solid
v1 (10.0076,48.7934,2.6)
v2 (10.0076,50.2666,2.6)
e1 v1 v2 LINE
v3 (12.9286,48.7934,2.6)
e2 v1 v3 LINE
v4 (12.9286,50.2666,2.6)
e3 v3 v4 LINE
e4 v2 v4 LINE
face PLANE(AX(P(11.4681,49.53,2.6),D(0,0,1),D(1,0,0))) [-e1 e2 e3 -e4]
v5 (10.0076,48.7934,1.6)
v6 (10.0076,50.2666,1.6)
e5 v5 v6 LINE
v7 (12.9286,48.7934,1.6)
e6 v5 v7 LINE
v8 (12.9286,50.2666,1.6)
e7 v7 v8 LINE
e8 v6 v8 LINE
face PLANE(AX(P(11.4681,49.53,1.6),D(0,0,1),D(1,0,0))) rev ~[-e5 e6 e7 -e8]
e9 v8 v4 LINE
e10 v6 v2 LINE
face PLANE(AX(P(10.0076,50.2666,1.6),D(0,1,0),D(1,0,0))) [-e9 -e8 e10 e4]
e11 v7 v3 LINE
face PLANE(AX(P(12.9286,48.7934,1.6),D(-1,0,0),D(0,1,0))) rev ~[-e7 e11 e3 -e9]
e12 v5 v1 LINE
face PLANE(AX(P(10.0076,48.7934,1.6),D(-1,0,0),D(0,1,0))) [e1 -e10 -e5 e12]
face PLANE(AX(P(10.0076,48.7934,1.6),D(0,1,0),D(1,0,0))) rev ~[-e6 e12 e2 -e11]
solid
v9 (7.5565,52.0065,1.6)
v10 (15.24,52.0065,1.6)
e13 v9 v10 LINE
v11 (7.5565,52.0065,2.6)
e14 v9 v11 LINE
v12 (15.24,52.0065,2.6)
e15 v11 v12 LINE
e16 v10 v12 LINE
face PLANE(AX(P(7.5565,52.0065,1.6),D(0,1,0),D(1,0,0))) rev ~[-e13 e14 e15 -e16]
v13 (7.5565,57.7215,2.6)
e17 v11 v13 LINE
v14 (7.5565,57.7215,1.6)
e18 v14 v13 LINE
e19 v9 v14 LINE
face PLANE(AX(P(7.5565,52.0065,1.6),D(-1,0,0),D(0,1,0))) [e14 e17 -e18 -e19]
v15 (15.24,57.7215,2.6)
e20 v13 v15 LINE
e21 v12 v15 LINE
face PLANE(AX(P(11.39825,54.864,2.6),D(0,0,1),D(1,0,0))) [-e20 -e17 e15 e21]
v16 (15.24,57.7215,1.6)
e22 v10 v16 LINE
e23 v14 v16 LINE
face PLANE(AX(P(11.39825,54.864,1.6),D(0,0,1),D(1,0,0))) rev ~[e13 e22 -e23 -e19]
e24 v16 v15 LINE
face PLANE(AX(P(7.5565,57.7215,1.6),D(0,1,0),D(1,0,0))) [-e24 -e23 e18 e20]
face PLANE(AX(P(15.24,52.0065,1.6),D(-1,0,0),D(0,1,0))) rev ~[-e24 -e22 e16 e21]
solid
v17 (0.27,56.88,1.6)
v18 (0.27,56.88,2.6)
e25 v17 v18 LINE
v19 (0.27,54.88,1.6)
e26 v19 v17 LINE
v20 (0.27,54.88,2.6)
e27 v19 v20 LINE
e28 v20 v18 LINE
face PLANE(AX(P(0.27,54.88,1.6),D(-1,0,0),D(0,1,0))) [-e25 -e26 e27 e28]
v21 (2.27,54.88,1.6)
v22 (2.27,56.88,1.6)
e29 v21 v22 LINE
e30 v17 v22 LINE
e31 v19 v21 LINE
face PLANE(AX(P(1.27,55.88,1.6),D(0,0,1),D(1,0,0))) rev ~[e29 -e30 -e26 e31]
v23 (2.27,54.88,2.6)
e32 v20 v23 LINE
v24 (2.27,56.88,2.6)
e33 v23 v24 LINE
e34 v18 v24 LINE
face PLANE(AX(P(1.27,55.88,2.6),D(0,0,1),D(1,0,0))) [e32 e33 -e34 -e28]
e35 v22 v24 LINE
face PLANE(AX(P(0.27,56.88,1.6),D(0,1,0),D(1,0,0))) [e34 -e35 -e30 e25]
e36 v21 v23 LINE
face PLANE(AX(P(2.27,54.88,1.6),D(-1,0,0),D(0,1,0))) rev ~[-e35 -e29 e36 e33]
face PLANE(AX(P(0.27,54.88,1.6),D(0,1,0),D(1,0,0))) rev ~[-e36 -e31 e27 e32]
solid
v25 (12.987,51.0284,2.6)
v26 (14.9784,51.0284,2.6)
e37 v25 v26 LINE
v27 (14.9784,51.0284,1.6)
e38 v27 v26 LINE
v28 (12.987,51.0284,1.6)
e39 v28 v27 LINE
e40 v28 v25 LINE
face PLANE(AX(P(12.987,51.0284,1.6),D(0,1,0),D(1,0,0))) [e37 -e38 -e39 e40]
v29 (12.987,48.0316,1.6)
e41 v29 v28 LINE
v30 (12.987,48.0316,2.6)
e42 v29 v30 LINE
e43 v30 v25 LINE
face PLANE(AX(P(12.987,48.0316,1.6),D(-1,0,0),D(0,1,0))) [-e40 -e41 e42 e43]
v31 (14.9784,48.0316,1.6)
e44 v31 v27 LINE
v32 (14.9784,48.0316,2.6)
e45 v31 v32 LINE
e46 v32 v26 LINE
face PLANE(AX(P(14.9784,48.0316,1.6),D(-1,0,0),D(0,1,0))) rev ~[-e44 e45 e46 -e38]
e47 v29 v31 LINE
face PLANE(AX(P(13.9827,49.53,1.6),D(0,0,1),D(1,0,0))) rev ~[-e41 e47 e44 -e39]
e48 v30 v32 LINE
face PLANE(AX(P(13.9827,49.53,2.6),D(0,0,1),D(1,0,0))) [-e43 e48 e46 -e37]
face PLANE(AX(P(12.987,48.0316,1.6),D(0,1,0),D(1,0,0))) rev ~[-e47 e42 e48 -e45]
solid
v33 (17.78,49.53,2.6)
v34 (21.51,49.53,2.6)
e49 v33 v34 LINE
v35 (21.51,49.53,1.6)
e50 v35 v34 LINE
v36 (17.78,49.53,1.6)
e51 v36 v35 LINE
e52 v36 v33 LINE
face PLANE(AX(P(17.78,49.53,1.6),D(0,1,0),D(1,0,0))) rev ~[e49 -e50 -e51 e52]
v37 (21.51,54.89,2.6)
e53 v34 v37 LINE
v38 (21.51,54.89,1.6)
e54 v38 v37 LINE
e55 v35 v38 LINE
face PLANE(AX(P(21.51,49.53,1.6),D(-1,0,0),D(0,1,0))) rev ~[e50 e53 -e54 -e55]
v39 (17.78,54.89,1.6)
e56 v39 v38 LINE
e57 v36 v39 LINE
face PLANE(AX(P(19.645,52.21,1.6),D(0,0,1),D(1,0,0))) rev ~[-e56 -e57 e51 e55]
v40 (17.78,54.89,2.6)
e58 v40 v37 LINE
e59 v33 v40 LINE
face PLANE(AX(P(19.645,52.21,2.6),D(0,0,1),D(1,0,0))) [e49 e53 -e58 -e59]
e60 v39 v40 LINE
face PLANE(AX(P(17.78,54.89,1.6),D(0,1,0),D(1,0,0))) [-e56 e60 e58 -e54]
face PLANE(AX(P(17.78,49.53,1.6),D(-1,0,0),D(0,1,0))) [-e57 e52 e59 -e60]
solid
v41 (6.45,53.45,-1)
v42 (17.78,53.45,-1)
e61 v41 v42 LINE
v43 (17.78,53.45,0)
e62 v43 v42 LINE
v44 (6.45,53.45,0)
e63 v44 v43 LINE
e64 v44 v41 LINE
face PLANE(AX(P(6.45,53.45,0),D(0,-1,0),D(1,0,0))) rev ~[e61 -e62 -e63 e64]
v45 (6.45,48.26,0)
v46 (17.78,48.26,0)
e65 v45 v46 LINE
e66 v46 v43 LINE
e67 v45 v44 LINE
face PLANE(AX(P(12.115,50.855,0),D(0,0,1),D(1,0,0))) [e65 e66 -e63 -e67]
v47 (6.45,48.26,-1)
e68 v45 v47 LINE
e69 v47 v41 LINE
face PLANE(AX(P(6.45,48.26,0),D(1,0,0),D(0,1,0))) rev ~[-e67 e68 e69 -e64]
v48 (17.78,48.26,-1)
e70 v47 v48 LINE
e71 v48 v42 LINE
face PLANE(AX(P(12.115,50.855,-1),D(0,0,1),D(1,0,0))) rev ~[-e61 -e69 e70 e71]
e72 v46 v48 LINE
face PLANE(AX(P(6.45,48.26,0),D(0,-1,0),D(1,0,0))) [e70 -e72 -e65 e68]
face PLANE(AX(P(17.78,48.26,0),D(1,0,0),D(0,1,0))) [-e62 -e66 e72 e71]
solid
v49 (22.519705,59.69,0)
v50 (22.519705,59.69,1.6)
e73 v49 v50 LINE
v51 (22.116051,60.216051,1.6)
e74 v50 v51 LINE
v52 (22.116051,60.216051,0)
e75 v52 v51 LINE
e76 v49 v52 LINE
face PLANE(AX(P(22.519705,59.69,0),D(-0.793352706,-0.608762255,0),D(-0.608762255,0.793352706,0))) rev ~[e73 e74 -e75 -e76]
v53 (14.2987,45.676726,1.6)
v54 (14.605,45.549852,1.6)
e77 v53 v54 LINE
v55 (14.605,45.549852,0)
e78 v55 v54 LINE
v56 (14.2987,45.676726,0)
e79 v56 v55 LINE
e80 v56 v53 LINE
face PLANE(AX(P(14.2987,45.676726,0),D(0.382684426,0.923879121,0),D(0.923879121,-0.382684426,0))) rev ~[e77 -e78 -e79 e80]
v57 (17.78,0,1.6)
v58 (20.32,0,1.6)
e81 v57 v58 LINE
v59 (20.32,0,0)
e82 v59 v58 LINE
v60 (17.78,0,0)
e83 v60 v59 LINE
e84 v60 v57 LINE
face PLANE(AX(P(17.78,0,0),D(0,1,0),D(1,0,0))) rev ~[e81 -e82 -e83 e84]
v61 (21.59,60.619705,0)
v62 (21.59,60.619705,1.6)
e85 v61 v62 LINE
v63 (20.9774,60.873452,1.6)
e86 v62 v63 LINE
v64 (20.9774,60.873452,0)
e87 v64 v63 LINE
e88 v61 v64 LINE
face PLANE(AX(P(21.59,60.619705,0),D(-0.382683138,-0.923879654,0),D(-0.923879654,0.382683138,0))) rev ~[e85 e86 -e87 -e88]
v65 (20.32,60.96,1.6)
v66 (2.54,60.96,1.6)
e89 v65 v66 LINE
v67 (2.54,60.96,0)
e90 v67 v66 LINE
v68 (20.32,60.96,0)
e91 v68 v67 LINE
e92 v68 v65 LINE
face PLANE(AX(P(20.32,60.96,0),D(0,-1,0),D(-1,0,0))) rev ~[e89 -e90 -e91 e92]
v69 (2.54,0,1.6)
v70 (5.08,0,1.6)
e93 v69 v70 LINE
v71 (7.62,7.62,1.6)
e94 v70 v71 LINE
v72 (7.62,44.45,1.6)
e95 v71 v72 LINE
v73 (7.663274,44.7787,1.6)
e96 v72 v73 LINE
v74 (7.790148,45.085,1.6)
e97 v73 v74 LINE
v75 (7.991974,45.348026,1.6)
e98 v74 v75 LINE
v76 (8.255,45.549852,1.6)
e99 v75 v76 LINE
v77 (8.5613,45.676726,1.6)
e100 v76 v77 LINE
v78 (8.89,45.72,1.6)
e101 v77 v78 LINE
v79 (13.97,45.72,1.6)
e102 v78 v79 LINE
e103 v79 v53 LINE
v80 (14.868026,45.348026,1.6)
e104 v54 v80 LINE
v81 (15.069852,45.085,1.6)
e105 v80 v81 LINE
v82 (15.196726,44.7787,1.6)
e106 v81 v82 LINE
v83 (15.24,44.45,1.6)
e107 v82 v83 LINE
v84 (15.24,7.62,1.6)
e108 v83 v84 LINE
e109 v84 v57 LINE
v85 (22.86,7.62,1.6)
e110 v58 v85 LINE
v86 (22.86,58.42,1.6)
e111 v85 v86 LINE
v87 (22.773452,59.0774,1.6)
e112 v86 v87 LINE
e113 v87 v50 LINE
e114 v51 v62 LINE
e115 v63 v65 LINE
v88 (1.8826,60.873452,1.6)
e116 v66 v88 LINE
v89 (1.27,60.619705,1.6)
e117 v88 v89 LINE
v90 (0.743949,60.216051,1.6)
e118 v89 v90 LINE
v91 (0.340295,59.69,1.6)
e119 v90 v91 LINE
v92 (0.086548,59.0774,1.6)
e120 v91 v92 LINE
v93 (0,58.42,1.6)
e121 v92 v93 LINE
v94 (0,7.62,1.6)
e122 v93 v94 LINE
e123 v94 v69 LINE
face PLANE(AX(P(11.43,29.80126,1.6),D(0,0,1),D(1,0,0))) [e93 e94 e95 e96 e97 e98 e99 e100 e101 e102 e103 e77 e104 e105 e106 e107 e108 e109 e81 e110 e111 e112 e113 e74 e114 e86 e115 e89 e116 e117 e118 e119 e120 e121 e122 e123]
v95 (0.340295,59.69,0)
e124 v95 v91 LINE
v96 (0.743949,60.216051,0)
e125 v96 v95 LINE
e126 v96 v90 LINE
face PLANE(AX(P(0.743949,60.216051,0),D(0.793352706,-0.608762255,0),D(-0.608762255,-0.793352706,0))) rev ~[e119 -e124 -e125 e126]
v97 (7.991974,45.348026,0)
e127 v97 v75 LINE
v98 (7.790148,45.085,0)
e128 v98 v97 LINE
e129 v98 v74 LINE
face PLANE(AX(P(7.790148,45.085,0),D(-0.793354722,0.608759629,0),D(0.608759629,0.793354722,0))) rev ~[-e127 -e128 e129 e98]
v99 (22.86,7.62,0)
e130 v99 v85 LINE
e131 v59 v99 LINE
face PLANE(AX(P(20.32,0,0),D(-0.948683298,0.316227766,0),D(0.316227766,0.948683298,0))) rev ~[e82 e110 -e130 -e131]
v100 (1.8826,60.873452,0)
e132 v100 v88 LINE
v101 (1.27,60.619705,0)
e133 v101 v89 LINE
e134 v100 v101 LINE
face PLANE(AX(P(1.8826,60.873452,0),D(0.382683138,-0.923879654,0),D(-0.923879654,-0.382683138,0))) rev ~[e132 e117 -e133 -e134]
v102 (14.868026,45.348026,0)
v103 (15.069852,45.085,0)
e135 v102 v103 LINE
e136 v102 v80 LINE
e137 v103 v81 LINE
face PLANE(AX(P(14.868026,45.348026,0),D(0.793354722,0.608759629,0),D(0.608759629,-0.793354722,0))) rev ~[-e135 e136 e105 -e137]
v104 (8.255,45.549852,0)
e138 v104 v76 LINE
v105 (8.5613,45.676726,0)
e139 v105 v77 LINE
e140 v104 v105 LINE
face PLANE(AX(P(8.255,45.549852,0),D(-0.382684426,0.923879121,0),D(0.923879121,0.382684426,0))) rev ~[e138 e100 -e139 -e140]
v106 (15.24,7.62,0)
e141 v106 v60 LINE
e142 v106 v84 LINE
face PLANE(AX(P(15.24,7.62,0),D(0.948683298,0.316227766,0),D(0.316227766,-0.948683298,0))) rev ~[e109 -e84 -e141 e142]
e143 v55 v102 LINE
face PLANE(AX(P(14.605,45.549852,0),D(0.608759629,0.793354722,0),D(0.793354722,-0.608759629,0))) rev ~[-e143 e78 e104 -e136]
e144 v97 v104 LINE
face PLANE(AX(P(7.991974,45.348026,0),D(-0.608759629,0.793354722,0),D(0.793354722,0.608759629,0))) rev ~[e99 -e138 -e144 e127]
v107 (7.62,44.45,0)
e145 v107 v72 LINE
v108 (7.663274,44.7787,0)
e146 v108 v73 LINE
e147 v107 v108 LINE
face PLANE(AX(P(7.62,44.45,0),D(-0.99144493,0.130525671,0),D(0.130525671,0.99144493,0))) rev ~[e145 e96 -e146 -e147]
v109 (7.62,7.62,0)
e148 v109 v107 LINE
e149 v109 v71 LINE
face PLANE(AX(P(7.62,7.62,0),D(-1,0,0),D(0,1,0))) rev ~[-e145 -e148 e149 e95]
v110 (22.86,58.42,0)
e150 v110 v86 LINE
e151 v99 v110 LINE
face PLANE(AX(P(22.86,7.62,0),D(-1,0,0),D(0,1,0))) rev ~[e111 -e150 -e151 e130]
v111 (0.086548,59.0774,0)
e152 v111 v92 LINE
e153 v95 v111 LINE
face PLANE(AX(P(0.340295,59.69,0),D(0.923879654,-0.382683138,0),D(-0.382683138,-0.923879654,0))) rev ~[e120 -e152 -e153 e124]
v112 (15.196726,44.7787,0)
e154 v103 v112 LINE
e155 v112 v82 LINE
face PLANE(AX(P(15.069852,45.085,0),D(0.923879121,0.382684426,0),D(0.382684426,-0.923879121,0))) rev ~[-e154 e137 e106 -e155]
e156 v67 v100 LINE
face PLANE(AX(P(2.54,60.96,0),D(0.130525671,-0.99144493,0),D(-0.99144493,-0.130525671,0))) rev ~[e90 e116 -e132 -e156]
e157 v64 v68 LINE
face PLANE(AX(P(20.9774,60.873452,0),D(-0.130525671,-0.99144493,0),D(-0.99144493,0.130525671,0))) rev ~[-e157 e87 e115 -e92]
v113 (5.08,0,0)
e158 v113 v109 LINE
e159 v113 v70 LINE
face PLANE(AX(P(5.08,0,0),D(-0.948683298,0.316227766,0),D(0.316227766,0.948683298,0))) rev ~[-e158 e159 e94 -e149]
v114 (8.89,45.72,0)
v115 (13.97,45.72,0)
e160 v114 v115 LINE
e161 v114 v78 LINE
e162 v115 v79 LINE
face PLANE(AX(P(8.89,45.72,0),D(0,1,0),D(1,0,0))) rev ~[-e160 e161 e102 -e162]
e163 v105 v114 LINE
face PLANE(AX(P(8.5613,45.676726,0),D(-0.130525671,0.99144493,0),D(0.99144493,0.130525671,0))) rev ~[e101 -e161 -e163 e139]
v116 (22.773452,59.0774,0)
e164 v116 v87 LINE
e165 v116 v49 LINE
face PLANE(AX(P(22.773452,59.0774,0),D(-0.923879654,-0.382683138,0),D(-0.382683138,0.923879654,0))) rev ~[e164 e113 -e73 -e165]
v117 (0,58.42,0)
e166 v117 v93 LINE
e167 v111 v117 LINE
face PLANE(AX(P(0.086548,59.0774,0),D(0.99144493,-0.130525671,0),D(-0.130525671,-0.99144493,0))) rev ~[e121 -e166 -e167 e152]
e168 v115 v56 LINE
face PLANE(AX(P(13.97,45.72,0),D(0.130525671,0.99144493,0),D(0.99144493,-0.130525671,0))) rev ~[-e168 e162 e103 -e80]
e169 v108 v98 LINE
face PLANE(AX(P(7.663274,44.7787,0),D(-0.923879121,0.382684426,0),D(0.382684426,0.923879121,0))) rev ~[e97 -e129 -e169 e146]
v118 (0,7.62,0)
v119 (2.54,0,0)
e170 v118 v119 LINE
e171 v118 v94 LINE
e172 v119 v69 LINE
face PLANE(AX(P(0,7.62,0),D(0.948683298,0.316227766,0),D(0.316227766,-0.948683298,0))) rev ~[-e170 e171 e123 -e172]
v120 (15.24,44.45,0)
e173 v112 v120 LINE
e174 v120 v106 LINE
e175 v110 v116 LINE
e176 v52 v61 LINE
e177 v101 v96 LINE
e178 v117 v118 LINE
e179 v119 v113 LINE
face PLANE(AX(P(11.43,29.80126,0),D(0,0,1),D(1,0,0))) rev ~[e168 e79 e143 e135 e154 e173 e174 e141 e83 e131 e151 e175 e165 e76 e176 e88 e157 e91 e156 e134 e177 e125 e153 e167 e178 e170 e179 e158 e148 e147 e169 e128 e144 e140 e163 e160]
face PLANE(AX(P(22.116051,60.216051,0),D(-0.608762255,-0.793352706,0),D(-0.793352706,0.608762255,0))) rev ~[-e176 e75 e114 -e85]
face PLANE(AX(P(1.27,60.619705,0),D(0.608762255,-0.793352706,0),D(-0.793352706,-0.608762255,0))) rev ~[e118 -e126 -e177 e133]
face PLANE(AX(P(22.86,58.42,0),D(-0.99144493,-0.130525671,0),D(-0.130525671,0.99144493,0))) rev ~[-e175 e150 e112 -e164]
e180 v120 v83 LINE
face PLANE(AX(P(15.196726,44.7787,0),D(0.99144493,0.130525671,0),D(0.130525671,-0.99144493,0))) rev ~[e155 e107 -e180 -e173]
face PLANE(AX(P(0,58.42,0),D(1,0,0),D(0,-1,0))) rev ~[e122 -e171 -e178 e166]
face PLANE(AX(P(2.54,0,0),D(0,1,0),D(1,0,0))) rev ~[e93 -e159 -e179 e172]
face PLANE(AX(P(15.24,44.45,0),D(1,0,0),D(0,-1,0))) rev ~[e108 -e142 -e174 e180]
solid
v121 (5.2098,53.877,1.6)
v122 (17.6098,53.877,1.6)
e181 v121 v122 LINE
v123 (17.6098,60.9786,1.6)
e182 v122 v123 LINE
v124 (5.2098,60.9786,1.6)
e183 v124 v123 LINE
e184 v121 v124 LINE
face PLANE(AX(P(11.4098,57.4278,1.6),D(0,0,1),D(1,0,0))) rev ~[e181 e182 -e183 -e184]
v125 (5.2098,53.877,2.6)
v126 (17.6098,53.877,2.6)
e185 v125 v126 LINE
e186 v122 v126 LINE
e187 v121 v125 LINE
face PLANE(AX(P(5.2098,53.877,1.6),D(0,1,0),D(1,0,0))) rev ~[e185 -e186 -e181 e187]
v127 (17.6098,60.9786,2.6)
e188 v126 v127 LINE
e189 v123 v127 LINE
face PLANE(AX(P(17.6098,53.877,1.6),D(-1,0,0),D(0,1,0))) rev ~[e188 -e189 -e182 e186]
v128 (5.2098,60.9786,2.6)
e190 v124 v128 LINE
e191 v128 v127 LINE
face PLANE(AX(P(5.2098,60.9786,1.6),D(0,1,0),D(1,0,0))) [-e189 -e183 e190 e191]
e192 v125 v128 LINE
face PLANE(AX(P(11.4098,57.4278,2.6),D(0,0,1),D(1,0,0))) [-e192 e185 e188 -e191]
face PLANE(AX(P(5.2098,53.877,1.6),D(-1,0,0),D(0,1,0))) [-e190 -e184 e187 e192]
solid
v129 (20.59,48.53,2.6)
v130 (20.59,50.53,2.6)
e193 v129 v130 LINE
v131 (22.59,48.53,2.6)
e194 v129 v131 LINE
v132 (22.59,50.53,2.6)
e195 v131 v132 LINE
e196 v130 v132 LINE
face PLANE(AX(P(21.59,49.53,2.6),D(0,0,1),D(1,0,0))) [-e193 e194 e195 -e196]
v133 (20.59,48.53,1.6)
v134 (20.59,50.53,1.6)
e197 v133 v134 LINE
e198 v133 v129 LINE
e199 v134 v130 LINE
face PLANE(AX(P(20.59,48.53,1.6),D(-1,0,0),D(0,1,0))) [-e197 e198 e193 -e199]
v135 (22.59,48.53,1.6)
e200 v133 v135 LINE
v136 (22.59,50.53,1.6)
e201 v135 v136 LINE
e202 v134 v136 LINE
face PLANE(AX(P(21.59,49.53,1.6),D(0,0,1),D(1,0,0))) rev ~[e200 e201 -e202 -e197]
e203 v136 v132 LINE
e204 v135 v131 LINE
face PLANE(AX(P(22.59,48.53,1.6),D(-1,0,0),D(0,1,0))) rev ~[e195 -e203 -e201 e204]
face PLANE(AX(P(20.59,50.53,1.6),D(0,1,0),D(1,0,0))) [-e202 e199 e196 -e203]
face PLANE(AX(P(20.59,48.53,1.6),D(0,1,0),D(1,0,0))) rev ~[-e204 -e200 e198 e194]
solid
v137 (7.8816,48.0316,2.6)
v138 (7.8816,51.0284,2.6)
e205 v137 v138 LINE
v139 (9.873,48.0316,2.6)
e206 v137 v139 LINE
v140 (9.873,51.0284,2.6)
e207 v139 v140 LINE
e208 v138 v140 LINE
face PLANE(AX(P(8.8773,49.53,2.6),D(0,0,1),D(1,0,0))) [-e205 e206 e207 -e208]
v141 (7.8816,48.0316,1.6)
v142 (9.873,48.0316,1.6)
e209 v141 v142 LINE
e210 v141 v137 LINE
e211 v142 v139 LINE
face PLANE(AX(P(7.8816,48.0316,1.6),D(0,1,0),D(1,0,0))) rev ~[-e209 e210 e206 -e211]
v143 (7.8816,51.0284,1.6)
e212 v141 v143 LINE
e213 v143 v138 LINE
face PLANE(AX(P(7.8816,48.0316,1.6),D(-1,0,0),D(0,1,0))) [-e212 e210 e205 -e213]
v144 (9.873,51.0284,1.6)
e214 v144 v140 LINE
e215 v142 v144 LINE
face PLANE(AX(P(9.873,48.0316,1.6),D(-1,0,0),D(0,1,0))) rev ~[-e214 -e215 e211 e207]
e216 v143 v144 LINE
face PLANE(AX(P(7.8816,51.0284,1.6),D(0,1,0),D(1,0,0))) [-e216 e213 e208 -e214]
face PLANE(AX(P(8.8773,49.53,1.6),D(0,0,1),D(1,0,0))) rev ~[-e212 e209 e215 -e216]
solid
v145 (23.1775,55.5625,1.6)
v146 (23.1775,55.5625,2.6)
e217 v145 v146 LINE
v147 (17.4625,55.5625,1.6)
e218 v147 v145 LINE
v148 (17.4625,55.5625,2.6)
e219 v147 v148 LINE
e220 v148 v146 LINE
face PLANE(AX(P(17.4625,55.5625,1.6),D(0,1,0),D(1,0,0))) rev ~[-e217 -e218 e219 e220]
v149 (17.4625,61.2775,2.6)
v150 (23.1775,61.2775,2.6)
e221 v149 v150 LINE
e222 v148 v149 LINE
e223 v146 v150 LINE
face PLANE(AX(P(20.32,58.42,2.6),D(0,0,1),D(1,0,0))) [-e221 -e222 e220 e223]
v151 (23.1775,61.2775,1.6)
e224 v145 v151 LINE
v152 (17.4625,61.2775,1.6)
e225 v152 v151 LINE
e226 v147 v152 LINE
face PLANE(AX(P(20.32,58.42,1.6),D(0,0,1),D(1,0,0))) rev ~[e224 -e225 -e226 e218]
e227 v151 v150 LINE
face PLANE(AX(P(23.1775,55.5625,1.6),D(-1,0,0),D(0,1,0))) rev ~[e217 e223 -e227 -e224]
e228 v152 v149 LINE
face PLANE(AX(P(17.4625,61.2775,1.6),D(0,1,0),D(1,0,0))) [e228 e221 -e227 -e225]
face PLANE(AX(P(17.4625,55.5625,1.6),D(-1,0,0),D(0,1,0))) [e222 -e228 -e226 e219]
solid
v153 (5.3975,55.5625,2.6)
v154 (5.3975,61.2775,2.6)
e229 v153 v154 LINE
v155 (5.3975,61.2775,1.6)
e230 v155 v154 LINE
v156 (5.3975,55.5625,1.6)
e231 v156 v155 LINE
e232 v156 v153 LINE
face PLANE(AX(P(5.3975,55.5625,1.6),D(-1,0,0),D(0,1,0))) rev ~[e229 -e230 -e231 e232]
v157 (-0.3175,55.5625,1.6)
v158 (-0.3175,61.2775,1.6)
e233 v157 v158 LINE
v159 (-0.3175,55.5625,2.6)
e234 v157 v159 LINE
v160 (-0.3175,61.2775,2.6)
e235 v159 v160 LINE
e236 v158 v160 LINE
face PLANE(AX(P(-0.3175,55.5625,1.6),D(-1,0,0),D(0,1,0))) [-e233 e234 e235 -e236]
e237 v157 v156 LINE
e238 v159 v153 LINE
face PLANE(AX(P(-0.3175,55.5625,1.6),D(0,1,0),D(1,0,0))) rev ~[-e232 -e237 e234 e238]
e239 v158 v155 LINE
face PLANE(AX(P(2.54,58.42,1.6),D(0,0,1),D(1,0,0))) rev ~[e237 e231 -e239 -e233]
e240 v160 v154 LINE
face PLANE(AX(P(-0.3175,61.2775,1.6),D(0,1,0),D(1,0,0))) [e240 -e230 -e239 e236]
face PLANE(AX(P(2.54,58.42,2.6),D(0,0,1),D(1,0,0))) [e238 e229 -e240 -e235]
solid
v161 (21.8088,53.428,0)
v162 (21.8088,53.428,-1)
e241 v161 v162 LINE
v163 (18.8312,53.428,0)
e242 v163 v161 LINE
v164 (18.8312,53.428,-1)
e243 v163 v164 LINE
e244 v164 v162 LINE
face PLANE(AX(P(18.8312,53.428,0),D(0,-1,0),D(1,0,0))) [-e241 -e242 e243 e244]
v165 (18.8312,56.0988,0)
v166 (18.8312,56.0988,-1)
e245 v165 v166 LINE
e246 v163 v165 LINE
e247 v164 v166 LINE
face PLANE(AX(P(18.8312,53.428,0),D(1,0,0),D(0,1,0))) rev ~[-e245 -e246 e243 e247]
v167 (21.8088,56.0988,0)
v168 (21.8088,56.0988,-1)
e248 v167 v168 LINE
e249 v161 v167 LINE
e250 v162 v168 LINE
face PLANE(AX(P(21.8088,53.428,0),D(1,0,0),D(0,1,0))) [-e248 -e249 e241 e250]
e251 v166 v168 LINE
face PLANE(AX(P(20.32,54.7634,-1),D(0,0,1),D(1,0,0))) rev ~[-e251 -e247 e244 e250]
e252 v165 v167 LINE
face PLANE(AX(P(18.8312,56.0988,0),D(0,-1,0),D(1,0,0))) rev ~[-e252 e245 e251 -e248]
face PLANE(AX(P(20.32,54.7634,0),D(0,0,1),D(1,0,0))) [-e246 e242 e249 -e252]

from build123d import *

# Parameters (mm, degrees)
BOARD_DEPTH                             = 1.6
SKETCH2_W                               = 2
SKETCH2_H                               = 2
FIDUCIAL_1X2_1_DEPTH                    = 1
SKETCH3_W                               = 2
SKETCH3_H                               = 2
FIDUCIAL_1X2_2_DEPTH                    = 1
SKETCH5_W                               = 7.6835
SKETCH5_H                               = 5.715
MOLEX_1X3_1_DEPTH                       = 1
SKETCH6_W                               = 12.4
SKETCH6_H                               = 7.1016
SCREWTERMINAL_3_5MM_3_LOCK_007S_1_DEPTH = 1
SKETCH7_W                               = 11.33
SKETCH7_H                               = 5.19
SFE_LOGO_NAME_FLAME_1_1_DEPTH           = 1
SKETCH8_W                               = 2.9776
SKETCH8_H                               = 2.6708
OSHW_LOGO_S_1_DEPTH                     = 1
SKETCH9_W                               = 2.921
SKETCH9_H                               = 1.4732
SOT23_3_1_DEPTH                         = 1
SKETCH10_W                              = 1.9914
SKETCH10_H                              = 2.9968
F_0603_RES_1_DEPTH                      = 1
SKETCH11_W                              = 1.9914
SKETCH11_H                              = 2.9968
F_0603_RES_2_DEPTH                      = 1
SKETCH12_W                              = 5.715
SKETCH12_H                              = 5.715
STAND_OFF_1_DEPTH                       = 1
SKETCH13_W                              = 5.715
SKETCH13_H                              = 5.715
STAND_OFF_2_DEPTH                       = 1
SKETCH14_W                              = 3.73
SKETCH14_H                              = 5.36
SFE_LOGO_FLAME_2_1_DEPTH                = 1


with BuildPart() as part:
    # Sketch1 → BOARD (new body)
    with BuildSketch(Plane.XY):
        Polygon((2.54, 60.96), (1.8826, 60.873452), (1.27, 60.619705), (0.743949, 60.216051), (0.340295, 59.69), (0.086548, 59.0774), (0, 58.42), (0, 7.62), (2.54, 0), (5.08, 0), (7.62, 7.62), (7.62, 44.45), (7.663274, 44.7787), (7.790148, 45.085), (7.991974, 45.348026), (8.255, 45.549852), (8.5613, 45.676726), (8.89, 45.72), (13.97, 45.72), (14.2987, 45.676726), (14.605, 45.549852), (14.868026, 45.348026), (15.069852, 45.085), (15.196726, 44.7787), (15.24, 44.45), (15.24, 7.62), (17.78, 0), (20.32, 0), (22.86, 7.62), (22.86, 58.42), (22.773452, 59.0774), (22.519705, 59.69), (22.116051, 60.216051), (21.59, 60.619705), (20.9774, 60.873452), (20.32, 60.96), align=None)
    extrude(amount=BOARD_DEPTH)


with BuildPart() as body_2:
    # Sketch2 → FIDUCIAL-1X2-1 (new body)
    with BuildSketch(Plane.XY.offset(1.6)):
        with Locations((1.27, 55.88)):
            Rectangle(SKETCH2_W, SKETCH2_H)
    extrude(amount=FIDUCIAL_1X2_1_DEPTH)


with BuildPart() as body_3:
    # Sketch3 → FIDUCIAL-1X2-2 (new body)
    with BuildSketch(Plane.XY.offset(1.6)):
        with Locations((21.59, 49.53)):
            Rectangle(SKETCH3_W, SKETCH3_H)
    extrude(amount=FIDUCIAL_1X2_2_DEPTH)


with BuildPart() as body_4:
    # Sketch5 → MOLEX-1X3-1 (new body)
    with BuildSketch(Plane.XY.offset(1.6)):
        with Locations((11.39825, 54.864)):
            Rectangle(SKETCH5_W, SKETCH5_H)
    extrude(amount=MOLEX_1X3_1_DEPTH)


with BuildPart() as body_5:
    # Sketch6 → SCREWTERMINAL-3_5MM-3_LOCK_007S-1 (new body)
    with BuildSketch(Plane.XY.offset(1.6)):
        with Locations((11.4098, 57.4278)):
            Rectangle(SKETCH6_W, SKETCH6_H)
    extrude(amount=SCREWTERMINAL_3_5MM_3_LOCK_007S_1_DEPTH)


with BuildPart() as body_6:
    # Sketch7 → SFE_LOGO_NAME_FLAME__1-1 (new body)
    with BuildSketch(Plane.XY):
        with Locations((12.115, 50.855)):
            Rectangle(SKETCH7_W, SKETCH7_H)
    extrude(amount=-SFE_LOGO_NAME_FLAME_1_1_DEPTH)


with BuildPart() as body_7:
    # Sketch8 → OSHW-LOGO-S-1 (new body)
    with BuildSketch(Plane.XY):
        with Locations((20.32, 54.7634)):
            Rectangle(SKETCH8_W, SKETCH8_H)
    extrude(amount=-OSHW_LOGO_S_1_DEPTH)


with BuildPart() as body_8:
    # Sketch9 → SOT23-3-1 (new body)
    with BuildSketch(Plane.XY.offset(1.6)):
        with Locations((11.4681, 49.53)):
            Rectangle(SKETCH9_W, SKETCH9_H)
    extrude(amount=SOT23_3_1_DEPTH)


with BuildPart() as body_9:
    # Sketch10 → 0603-RES-1 (new body)
    with BuildSketch(Plane.XY.offset(1.6)):
        with Locations((13.9827, 49.53)):
            Rectangle(SKETCH10_W, SKETCH10_H)
    extrude(amount=F_0603_RES_1_DEPTH)


with BuildPart() as body_10:
    # Sketch11 → 0603-RES-2 (new body)
    with BuildSketch(Plane.XY.offset(1.6)):
        with Locations((8.8773, 49.53)):
            Rectangle(SKETCH11_W, SKETCH11_H)
    extrude(amount=F_0603_RES_2_DEPTH)


with BuildPart() as body_11:
    # Sketch12 → STAND-OFF-1 (new body)
    with BuildSketch(Plane.XY.offset(1.6)):
        with Locations((2.54, 58.42)):
            Rectangle(SKETCH12_W, SKETCH12_H)
    extrude(amount=STAND_OFF_1_DEPTH)


with BuildPart() as body_12:
    # Sketch13 → STAND-OFF-2 (new body)
    with BuildSketch(Plane.XY.offset(1.6)):
        with Locations((20.32, 58.42)):
            Rectangle(SKETCH13_W, SKETCH13_H)
    extrude(amount=STAND_OFF_2_DEPTH)


with BuildPart() as body_13:
    # Sketch14 → SFE_LOGO_FLAME__2-1 (new body)
    with BuildSketch(Plane.XY.offset(1.6)):
        with Locations((19.645, 52.21)):
            Rectangle(SKETCH14_W, SKETCH14_H)
    extrude(amount=SFE_LOGO_FLAME_2_1_DEPTH)


solid = Compound([part.part, body_2.part, body_3.part, body_4.part, body_5.part, body_6.part, body_7.part, body_8.part, body_9.part, body_10.part, body_11.part, body_12.part, body_13.part])
